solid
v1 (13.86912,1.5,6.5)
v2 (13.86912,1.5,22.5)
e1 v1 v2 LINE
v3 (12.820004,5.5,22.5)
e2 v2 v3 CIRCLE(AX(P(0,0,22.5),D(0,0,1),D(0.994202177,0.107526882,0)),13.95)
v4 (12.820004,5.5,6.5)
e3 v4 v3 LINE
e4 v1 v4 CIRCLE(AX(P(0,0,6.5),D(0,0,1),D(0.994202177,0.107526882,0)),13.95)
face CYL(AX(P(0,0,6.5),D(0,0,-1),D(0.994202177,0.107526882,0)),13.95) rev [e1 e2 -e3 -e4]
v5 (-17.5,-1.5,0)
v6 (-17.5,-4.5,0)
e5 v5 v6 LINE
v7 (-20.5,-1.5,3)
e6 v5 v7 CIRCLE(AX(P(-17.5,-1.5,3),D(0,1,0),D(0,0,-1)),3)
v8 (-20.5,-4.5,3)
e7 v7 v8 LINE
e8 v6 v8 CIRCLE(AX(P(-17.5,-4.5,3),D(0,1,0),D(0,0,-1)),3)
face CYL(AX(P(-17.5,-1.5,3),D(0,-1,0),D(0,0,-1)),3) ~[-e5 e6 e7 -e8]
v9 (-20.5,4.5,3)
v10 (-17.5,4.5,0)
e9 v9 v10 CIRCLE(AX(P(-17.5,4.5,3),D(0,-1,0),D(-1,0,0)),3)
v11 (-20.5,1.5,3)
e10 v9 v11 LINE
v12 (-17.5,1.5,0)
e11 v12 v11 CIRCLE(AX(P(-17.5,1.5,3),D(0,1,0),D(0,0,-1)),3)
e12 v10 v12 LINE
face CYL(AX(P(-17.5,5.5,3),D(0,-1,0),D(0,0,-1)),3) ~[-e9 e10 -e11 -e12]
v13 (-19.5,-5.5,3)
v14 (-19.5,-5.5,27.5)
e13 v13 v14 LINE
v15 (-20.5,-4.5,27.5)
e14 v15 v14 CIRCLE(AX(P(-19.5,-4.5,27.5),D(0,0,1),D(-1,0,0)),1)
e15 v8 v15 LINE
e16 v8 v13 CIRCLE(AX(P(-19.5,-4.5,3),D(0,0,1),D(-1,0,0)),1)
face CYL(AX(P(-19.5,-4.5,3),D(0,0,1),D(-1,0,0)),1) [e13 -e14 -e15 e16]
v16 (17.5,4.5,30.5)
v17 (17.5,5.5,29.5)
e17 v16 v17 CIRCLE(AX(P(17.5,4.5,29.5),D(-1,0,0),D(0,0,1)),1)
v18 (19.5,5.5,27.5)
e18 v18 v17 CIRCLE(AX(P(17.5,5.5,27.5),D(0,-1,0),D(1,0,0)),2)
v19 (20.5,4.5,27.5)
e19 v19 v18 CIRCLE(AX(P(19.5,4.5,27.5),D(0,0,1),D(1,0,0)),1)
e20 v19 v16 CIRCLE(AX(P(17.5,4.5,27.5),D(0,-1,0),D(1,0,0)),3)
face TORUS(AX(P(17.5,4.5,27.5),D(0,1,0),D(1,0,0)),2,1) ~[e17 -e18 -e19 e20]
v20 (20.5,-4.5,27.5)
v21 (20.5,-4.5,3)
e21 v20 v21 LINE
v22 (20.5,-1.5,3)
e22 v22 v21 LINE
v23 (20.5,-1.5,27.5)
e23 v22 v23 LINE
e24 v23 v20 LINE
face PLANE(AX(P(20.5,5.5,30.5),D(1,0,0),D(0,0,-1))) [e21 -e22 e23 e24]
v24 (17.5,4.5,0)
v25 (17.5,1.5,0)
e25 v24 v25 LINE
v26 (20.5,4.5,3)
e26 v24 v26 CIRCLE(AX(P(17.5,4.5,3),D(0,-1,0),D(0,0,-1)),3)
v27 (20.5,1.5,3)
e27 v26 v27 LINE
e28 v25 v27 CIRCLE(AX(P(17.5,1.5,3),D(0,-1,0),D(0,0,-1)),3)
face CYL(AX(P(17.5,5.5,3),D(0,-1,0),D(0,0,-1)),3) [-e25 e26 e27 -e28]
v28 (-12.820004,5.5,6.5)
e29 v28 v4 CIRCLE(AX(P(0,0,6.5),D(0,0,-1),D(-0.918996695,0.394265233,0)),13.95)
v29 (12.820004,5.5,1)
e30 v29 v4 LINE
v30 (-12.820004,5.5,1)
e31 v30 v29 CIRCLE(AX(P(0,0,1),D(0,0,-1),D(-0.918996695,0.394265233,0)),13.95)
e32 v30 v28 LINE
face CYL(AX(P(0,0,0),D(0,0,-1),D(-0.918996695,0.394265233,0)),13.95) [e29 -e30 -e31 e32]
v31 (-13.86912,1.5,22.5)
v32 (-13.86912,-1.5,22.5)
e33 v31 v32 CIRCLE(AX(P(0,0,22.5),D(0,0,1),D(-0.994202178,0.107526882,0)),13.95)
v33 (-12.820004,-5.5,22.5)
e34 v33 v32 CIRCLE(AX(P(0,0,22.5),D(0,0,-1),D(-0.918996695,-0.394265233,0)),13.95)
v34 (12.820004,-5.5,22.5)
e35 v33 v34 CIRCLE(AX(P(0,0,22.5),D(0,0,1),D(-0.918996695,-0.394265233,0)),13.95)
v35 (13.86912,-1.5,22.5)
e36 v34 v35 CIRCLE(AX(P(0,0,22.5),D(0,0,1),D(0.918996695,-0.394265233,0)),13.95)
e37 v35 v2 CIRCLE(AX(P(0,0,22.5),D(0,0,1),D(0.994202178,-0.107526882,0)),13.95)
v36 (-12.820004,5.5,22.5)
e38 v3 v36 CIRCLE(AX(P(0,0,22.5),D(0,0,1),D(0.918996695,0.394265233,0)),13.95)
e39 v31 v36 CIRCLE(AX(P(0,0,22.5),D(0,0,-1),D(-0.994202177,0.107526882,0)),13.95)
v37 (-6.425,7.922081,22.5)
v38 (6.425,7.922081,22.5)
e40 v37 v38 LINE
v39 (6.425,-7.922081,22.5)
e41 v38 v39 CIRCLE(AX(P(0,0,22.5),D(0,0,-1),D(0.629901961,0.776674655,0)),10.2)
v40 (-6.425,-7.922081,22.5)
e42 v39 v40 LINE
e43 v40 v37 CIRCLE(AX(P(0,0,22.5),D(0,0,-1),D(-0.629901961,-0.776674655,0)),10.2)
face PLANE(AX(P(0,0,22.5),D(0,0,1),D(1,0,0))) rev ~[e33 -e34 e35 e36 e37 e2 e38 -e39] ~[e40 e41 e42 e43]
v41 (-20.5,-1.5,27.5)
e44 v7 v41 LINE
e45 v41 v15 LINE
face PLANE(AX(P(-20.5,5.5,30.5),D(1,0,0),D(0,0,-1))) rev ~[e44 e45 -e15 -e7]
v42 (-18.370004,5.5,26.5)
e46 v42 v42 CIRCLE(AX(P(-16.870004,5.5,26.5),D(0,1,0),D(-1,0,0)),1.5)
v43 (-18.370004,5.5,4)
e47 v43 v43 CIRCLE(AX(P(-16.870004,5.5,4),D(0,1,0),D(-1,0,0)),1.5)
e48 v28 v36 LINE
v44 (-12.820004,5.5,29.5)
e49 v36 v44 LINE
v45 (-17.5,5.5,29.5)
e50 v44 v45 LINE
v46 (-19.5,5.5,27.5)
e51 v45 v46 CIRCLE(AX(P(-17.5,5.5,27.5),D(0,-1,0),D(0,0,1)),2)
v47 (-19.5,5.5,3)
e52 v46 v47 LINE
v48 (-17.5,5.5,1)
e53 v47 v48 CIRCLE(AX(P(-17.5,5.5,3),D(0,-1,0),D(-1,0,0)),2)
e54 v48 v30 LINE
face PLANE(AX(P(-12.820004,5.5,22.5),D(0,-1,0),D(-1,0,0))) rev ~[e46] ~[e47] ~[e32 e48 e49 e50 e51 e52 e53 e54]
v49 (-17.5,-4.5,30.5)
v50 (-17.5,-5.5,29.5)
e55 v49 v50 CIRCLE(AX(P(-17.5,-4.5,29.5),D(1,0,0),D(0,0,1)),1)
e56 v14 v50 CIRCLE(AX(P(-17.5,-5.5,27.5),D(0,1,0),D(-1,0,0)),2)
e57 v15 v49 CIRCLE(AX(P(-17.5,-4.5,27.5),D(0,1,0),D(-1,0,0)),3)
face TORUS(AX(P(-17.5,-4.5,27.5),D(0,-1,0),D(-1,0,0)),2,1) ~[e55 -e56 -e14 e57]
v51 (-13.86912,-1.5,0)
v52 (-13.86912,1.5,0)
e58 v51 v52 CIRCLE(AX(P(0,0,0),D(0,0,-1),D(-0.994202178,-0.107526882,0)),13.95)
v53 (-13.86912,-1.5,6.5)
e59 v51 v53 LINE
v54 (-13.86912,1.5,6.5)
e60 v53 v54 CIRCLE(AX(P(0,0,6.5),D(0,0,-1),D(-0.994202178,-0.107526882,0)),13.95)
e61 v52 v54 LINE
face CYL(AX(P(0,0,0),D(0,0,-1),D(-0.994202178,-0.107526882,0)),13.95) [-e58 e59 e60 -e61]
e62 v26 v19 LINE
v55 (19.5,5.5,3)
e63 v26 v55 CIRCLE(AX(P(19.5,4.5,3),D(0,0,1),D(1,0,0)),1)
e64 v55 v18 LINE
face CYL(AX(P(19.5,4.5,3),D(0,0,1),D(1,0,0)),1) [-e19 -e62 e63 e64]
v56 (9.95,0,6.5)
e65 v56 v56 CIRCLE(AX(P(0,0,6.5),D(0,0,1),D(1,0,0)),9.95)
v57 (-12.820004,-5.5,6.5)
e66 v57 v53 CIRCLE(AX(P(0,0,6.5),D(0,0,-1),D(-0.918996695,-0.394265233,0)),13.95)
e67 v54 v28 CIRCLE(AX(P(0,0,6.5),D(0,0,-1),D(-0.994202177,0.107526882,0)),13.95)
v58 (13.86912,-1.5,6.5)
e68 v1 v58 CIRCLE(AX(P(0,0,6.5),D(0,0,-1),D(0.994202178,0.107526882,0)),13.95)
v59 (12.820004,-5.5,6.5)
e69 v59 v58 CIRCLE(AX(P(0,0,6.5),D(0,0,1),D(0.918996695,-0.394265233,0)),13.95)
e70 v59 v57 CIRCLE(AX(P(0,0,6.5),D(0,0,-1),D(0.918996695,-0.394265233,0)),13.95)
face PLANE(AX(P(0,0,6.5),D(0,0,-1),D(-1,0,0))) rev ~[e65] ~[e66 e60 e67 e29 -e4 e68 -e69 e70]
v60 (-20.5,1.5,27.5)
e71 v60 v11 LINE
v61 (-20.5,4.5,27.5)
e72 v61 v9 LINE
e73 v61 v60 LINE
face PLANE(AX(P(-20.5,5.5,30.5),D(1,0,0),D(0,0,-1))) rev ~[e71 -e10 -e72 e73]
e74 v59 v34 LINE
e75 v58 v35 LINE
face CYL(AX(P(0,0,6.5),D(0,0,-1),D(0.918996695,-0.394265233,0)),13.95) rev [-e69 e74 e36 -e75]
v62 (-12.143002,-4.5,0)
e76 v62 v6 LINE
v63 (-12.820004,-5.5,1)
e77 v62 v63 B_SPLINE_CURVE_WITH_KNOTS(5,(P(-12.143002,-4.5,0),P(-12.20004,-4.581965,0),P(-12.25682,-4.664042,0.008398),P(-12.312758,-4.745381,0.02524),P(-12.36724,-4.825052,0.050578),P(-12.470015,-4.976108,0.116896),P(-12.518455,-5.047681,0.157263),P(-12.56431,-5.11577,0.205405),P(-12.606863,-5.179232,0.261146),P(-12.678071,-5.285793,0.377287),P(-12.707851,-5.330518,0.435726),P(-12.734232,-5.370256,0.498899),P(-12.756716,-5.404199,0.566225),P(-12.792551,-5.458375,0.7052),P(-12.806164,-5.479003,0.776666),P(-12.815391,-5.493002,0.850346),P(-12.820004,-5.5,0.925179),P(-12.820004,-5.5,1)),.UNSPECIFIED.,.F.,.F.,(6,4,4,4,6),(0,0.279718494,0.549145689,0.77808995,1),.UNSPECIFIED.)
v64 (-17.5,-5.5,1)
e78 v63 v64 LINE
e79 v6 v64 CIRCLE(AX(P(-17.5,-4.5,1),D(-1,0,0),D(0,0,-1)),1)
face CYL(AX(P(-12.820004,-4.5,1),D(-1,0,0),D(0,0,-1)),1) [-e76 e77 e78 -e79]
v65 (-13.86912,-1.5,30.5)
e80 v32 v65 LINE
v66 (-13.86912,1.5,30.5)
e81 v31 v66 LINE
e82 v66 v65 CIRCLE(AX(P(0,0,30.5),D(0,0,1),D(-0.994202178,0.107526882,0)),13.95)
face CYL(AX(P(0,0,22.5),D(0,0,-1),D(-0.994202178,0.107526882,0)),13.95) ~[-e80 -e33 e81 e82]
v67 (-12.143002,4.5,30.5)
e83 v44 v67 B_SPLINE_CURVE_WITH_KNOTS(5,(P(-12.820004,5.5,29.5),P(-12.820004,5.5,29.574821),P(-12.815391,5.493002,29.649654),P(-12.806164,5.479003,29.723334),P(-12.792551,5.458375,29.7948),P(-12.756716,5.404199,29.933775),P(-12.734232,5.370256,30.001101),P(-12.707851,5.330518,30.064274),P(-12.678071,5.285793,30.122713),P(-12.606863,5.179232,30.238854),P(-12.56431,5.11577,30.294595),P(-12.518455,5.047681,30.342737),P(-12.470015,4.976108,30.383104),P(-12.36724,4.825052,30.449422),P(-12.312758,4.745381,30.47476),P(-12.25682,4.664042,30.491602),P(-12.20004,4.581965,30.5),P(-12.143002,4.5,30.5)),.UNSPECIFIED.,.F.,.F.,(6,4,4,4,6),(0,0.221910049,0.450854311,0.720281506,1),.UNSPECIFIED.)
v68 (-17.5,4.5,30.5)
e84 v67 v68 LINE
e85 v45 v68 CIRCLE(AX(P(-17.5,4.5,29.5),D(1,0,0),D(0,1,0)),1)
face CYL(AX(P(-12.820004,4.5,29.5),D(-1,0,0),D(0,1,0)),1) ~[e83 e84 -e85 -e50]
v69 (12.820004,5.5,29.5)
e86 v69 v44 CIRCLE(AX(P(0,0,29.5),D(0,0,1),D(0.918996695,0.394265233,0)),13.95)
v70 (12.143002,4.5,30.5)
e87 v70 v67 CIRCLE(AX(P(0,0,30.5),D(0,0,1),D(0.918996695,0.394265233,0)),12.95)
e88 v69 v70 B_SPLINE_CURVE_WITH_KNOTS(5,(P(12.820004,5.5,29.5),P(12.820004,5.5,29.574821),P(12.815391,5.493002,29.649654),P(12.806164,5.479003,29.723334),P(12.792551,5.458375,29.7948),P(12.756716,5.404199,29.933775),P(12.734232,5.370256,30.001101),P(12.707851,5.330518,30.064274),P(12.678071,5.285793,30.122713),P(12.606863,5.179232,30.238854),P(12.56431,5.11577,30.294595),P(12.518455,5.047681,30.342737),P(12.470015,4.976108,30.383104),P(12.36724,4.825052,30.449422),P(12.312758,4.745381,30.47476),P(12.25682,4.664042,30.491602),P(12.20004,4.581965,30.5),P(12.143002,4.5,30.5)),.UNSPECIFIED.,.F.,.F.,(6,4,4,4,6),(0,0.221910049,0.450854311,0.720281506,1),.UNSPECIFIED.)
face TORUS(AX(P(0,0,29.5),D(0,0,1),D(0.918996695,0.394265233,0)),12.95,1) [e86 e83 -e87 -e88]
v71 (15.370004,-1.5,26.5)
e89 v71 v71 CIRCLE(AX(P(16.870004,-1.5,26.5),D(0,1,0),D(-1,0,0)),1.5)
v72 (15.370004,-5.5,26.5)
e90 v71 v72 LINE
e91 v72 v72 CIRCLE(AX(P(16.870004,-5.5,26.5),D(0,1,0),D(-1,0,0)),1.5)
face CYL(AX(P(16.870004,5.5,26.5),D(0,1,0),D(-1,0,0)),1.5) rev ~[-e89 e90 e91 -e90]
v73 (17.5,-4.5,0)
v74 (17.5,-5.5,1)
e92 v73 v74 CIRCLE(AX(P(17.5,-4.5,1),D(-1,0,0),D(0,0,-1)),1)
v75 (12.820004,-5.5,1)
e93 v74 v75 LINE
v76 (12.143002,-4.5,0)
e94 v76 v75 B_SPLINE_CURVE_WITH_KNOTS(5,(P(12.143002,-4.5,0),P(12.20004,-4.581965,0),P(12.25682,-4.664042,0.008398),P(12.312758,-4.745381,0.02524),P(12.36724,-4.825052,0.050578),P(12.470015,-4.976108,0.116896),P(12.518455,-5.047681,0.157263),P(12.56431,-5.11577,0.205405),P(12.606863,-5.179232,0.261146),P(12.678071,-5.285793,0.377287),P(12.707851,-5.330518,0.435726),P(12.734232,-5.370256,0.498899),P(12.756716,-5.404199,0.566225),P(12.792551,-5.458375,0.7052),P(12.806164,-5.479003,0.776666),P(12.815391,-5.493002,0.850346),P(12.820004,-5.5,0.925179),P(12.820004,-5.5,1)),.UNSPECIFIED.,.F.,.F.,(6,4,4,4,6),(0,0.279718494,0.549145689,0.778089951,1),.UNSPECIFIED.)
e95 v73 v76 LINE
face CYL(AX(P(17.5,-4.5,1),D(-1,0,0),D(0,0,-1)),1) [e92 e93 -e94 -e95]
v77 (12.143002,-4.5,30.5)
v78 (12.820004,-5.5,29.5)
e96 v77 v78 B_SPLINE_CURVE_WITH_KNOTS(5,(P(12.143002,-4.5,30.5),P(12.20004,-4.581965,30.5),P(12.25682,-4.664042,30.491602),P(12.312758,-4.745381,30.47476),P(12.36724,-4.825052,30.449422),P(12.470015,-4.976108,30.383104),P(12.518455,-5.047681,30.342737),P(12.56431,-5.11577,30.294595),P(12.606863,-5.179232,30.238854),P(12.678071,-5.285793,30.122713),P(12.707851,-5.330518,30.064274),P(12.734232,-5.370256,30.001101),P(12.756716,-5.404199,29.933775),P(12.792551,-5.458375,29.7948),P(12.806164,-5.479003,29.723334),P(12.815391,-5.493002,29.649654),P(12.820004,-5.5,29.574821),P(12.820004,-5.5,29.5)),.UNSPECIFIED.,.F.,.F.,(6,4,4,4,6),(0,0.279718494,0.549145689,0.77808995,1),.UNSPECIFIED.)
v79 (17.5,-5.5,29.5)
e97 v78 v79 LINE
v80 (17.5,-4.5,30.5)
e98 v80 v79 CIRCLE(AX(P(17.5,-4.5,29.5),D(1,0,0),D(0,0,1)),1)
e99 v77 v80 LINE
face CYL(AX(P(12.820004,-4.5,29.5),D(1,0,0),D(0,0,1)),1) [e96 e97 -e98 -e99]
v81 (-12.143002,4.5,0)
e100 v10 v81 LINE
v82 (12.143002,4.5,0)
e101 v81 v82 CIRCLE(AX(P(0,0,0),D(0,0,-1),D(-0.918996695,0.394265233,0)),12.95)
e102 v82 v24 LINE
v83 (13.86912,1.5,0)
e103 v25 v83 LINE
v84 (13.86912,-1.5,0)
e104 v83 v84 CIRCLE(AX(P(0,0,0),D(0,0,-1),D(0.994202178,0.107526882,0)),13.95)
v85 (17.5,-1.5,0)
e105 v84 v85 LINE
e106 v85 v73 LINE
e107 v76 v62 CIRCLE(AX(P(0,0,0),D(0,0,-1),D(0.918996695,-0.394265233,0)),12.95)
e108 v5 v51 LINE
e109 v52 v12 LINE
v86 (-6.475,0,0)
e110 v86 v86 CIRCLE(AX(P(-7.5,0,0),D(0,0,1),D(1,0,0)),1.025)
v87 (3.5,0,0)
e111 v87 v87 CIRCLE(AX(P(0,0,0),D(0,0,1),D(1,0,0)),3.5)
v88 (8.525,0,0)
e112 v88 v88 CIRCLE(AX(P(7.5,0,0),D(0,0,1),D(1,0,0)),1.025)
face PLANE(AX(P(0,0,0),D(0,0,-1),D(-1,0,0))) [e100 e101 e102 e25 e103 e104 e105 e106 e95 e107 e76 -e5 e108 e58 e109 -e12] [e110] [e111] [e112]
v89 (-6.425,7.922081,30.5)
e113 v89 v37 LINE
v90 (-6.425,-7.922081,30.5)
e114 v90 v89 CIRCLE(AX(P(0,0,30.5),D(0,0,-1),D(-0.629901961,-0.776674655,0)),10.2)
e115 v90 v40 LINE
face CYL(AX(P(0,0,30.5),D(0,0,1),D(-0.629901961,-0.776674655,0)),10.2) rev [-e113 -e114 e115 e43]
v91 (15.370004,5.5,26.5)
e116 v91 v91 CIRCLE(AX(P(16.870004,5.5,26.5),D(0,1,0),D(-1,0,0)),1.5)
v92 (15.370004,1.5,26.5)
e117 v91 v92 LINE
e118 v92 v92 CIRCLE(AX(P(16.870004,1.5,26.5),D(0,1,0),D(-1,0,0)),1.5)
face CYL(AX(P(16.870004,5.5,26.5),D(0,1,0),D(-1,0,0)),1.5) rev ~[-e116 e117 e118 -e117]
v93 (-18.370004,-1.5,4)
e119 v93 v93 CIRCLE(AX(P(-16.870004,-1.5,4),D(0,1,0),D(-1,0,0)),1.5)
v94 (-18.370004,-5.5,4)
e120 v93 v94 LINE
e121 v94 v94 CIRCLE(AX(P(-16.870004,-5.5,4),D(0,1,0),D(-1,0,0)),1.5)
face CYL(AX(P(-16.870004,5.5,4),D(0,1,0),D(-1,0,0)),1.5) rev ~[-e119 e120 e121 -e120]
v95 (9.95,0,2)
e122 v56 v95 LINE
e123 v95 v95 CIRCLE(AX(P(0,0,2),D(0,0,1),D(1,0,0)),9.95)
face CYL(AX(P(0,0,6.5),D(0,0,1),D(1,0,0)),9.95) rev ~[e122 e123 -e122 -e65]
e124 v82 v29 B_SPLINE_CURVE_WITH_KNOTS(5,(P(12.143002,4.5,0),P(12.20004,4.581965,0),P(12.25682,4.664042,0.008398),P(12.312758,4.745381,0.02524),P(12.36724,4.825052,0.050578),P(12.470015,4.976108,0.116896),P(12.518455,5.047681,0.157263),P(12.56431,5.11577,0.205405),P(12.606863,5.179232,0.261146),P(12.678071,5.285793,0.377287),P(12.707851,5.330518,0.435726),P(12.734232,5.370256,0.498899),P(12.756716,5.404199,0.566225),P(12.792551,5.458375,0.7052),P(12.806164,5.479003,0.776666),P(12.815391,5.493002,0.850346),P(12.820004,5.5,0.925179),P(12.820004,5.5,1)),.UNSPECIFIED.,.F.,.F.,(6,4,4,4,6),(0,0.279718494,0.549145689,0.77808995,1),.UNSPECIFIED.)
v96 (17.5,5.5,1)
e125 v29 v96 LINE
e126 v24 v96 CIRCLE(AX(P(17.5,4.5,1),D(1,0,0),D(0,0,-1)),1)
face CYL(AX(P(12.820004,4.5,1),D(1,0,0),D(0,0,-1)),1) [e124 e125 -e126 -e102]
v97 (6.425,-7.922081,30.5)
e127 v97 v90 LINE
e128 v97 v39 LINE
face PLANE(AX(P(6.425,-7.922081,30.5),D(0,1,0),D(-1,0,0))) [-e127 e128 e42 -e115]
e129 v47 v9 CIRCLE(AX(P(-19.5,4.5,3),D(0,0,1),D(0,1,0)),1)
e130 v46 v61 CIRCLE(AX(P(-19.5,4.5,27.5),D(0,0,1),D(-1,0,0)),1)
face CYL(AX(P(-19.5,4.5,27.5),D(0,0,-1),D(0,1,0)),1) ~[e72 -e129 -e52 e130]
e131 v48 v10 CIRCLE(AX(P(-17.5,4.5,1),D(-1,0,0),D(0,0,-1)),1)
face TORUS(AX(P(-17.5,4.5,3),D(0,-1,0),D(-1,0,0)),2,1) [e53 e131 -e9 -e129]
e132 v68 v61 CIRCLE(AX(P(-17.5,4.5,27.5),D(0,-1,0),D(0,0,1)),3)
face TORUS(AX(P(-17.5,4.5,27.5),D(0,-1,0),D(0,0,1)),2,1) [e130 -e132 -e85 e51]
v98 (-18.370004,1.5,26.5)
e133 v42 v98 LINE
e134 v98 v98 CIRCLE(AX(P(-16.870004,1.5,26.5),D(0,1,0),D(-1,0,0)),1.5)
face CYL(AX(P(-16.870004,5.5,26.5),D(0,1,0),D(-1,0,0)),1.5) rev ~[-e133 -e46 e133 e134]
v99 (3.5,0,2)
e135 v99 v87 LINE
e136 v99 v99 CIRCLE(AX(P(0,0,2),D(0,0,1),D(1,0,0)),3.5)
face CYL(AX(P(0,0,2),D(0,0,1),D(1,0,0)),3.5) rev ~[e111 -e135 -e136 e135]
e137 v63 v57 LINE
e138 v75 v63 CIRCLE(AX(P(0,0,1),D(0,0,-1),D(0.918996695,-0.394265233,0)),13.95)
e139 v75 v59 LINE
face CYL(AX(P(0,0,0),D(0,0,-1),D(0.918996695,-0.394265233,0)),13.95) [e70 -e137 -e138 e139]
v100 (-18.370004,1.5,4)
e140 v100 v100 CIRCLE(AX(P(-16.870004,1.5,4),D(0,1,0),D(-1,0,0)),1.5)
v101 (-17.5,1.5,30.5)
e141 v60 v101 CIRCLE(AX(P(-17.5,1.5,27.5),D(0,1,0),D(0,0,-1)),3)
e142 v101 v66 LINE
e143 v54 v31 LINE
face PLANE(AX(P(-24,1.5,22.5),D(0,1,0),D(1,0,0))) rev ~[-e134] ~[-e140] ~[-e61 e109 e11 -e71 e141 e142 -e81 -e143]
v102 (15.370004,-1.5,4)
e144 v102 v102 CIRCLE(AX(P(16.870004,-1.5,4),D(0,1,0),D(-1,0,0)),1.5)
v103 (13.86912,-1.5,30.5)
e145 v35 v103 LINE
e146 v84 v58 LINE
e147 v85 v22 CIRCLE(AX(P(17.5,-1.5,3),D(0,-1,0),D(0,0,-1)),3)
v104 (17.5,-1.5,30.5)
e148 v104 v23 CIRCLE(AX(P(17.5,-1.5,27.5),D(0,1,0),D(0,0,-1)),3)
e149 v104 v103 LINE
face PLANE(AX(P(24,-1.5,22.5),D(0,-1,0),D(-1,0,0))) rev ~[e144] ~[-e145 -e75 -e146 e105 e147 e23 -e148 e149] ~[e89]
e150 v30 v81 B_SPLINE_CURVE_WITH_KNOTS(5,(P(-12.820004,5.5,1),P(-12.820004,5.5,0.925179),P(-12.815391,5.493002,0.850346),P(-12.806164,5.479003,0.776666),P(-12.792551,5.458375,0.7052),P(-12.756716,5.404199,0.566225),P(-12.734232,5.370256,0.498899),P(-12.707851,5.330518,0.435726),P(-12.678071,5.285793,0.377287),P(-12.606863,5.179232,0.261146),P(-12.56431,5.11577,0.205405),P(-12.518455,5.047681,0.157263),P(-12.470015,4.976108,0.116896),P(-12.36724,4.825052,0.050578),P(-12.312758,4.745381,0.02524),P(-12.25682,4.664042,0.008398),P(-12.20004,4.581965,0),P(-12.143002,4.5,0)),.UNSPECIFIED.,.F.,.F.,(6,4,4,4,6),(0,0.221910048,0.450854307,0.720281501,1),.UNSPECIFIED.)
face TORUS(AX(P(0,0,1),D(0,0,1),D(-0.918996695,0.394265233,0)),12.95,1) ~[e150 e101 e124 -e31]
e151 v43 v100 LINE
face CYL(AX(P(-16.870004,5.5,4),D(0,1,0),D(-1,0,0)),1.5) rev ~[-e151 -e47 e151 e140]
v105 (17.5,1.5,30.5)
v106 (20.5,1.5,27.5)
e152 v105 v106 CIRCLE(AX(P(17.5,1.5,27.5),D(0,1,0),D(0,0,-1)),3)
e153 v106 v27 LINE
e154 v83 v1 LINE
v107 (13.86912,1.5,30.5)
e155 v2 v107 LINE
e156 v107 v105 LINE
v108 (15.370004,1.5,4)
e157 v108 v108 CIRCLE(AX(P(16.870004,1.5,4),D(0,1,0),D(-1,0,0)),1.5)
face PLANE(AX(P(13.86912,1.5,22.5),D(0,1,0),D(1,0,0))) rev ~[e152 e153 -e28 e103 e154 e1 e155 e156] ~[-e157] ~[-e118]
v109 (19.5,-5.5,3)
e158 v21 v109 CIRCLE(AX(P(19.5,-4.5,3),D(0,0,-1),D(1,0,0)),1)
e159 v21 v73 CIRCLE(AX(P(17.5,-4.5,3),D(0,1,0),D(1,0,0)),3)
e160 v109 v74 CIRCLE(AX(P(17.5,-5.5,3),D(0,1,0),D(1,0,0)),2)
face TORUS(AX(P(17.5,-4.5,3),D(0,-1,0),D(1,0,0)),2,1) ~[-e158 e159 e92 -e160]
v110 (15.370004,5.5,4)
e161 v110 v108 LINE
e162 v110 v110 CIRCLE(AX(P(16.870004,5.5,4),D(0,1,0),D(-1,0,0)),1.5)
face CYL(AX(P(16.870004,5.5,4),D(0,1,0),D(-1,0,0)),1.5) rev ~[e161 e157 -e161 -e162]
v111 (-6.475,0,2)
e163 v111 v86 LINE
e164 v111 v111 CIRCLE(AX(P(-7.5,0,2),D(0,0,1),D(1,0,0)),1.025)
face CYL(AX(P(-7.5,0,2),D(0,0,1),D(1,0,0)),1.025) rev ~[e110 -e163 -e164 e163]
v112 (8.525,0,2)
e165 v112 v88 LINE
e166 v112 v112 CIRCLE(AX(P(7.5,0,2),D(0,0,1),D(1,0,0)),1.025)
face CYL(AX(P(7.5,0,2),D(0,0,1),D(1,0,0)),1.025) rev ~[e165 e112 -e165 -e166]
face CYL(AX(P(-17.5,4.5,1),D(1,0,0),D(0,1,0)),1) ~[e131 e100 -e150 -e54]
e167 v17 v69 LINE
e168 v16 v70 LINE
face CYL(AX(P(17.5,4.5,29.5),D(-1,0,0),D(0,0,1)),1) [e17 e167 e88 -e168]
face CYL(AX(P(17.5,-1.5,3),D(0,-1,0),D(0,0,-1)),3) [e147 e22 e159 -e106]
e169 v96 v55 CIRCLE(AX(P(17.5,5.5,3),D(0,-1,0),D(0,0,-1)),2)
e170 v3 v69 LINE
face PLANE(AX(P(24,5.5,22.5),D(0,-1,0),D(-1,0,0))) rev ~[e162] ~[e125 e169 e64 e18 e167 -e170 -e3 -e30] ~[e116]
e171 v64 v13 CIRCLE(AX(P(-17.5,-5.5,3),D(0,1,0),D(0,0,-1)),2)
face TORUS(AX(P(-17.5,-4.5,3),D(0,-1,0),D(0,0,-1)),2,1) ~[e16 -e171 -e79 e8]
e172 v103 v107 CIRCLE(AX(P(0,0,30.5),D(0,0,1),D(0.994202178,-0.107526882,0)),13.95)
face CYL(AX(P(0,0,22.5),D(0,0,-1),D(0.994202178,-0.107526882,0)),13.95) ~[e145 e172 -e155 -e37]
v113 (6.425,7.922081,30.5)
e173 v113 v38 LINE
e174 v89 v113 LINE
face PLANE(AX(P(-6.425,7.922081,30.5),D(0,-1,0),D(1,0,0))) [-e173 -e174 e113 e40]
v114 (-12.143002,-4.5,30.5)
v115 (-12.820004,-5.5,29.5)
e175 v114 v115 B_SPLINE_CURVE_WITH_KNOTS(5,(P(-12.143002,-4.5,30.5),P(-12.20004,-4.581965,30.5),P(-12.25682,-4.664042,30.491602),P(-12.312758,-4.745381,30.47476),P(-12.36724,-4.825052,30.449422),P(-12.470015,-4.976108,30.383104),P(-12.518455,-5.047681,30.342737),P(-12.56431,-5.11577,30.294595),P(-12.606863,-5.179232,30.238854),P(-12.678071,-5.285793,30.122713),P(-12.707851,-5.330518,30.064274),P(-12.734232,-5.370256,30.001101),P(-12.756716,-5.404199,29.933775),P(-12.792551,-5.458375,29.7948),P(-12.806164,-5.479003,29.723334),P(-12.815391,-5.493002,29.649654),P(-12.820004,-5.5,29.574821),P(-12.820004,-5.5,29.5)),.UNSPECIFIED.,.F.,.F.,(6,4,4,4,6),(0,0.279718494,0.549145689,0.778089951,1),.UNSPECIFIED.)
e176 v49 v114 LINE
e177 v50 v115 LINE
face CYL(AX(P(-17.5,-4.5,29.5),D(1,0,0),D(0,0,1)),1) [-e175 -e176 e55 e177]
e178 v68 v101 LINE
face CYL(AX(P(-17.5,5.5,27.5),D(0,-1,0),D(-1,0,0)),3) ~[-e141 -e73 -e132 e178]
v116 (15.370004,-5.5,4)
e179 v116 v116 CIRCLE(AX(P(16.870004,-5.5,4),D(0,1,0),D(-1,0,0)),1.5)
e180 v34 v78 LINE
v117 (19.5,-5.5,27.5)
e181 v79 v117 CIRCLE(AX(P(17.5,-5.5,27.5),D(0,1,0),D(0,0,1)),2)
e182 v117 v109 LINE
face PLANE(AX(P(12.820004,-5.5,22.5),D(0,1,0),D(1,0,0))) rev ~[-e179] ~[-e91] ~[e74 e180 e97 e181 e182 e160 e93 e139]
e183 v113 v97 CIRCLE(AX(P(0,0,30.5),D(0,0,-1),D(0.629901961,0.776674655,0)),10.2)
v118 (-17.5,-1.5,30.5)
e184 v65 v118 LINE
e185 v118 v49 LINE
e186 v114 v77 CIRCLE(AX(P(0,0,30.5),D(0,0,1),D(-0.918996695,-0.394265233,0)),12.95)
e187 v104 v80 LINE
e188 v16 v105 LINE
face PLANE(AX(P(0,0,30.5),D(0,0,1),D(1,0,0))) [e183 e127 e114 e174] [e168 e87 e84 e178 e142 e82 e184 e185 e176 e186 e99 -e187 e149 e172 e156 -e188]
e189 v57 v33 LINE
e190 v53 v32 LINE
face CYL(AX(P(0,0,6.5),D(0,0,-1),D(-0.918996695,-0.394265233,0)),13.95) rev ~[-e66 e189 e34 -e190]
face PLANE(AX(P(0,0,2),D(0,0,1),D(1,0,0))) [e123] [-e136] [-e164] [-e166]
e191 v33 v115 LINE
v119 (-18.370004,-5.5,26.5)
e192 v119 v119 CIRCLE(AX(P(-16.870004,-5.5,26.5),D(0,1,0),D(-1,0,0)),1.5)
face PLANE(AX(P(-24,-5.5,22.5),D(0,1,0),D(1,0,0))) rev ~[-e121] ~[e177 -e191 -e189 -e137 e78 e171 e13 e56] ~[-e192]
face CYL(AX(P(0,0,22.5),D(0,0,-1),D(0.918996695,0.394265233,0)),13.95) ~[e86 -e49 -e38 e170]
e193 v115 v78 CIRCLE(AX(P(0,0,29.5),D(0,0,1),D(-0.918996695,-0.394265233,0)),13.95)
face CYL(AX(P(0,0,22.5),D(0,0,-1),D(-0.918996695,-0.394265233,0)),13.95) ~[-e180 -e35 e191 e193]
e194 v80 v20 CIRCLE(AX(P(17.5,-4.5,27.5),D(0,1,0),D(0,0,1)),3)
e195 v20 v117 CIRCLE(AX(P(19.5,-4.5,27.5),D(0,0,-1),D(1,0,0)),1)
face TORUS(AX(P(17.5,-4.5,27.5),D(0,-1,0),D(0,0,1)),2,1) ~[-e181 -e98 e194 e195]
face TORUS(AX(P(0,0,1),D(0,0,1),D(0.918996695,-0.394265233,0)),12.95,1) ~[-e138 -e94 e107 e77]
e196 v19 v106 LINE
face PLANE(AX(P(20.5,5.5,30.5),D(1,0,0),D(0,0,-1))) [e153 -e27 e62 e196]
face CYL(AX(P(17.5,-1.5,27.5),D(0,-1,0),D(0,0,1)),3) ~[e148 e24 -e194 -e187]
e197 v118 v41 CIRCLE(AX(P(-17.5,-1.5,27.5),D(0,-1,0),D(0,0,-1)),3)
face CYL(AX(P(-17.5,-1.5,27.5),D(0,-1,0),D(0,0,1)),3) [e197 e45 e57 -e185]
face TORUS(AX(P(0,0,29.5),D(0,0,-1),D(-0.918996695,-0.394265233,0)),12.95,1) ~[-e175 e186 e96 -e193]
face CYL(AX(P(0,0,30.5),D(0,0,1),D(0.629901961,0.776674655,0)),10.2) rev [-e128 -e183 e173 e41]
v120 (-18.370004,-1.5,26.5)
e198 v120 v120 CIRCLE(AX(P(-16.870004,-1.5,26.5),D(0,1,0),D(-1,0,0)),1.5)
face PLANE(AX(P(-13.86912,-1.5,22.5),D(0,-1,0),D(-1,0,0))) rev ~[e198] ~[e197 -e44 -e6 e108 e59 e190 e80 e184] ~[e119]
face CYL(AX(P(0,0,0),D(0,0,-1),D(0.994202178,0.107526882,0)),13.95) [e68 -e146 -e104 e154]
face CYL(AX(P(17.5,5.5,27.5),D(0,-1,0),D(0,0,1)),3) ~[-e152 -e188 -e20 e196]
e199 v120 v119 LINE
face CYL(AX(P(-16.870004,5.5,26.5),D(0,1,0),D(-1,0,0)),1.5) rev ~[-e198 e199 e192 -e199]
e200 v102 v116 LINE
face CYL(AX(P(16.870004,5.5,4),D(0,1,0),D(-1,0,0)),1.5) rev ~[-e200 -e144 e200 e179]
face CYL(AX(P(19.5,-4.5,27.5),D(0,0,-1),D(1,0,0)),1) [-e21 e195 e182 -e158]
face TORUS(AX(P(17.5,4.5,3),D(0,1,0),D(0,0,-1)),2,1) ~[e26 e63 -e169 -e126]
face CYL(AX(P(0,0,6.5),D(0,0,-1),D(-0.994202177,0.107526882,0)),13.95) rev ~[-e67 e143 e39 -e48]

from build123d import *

# Parameters (mm, degrees)
SALIENTE_EXTRUIR1_DEPTH = 6.5
CROQUIS2_R              = 9.95
CORTAR_EXTRUIR1_DEPTH   = 4.5
CROQUIS3_R              = 3.5
CROQUIS3_R_2            = 1.025
CORTAR_EXTRUIR2_DEPTH   = 3.5
SALIENTE_EXTRUIR2_DEPTH = 16
SALIENTE_EXTRUIR3_DEPTH = 8
CORTAR_EXTRUIR3_DEPTH   = 8
CROQUIS8_R              = 1.5
CORTAR_EXTRUIR4_DEPTH   = 44.411432826
CROQUIS9_W              = 3.5
CROQUIS9_H              = 30.5
CORTAR_EXTRUIR6_DEPTH   = 44.411432826
REDONDEO4_R             = 3
REDONDEO5_R             = 1


with BuildPart() as part:
    # Croquis1 → Saliente-Extruir1 (new body)
    with BuildSketch(Plane.XY):
        with BuildLine():
            Line((-13.869120376, 1.5), (-24, 1.5))
            Line((-24, 1.5), (-24, 5.5))
            Line((-24, 5.5), (-12.8200039, 5.5))
            ThreePointArc((-12.8200039, 5.5), (0, 13.95), (12.8200039, 5.5))
            Line((12.8200039, 5.5), (24, 5.5))
            Line((24, 5.5), (24, 1.5))
            Line((24, 1.5), (13.869120376, 1.5))
            ThreePointArc((13.869120376, 1.5), (13.95, 0), (13.869120376, -1.5))
            Line((13.869120376, -1.5), (24, -1.5))
            Line((24, -1.5), (24, -5.5))
            Line((24, -5.5), (12.8200039, -5.5))
            ThreePointArc((12.8200039, -5.5), (0, -13.95), (-12.8200039, -5.5))
            Line((-12.8200039, -5.5), (-24, -5.5))
            Line((-24, -5.5), (-24, -1.5))
            Line((-24, -1.5), (-13.869120376, -1.5))
            ThreePointArc((-13.869120376, -1.5), (-13.95, 0), (-13.869120376, 1.5))
        make_face()
    extrude(amount=SALIENTE_EXTRUIR1_DEPTH)

    # Croquis2 → Cortar-Extruir1 (cut)
    with BuildSketch(Plane.XY.offset(6.5)):
        Circle(CROQUIS2_R)
    extrude(amount=-CORTAR_EXTRUIR1_DEPTH, mode=Mode.SUBTRACT)

    # Croquis3 → Cortar-Extruir2 (cut)
    with BuildSketch(Plane.XY.offset(2)):
        Circle(CROQUIS3_R)
        with Locations((-7.5, 0)):
            Circle(CROQUIS3_R_2)
        with Locations((7.5, 0)):
            Circle(CROQUIS3_R_2)
    extrude(amount=-CORTAR_EXTRUIR2_DEPTH, mode=Mode.SUBTRACT)

    # Croquis4 → Saliente-Extruir2 (add)
    with BuildSketch(Plane.XY.offset(6.5)):
        with BuildLine():
            Line((-12.8200039, 5.5), (-24, 5.5))
            Line((-24, 5.5), (-24, 1.5))
            Line((-24, 1.5), (-13.869120376, 1.5))
            ThreePointArc((-13.869120376, 1.5), (-13.49360362, 3.539090469), (-12.8200039, 5.5))
        make_face()
        with BuildLine():
            Line((-13.869120376, -1.5), (-24, -1.5))
            Line((-24, -1.5), (-24, -5.5))
            Line((-24, -5.5), (-12.8200039, -5.5))
            ThreePointArc((-12.8200039, -5.5), (-13.49360362, -3.539090469), (-13.869120376, -1.5))
        make_face()
        with BuildLine():
            Line((24, -5.5), (12.8200039, -5.5))
            ThreePointArc((12.8200039, -5.5), (13.49360362, -3.539090469), (13.869120376, -1.5))
            Line((13.869120376, -1.5), (24, -1.5))
            Line((24, -1.5), (24, -5.5))
        make_face()
        with BuildLine():
            Line((24, 1.5), (13.869120376, 1.5))
            ThreePointArc((13.869120376, 1.5), (13.49360362, 3.539090469), (12.8200039, 5.5))
            Line((12.8200039, 5.5), (24, 5.5))
            Line((24, 5.5), (24, 1.5))
        make_face()
    extrude(amount=SALIENTE_EXTRUIR2_DEPTH)

    # Croquis6 → Saliente-Extruir3 (add)
    with BuildSketch(Plane.XY.offset(22.5)):
        with BuildLine():
            Line((-12.8200039, 5.5), (-24, 5.5))
            Line((-24, 5.5), (-24, 1.5))
            Line((-24, 1.5), (-13.869120376, 1.5))
            ThreePointArc((-13.869120376, 1.5), (-13.95, 0), (-13.869120376, -1.5))
            Line((-13.869120376, -1.5), (-24, -1.5))
            Line((-24, -1.5), (-24, -5.5))
            Line((-24, -5.5), (-12.8200039, -5.5))
            ThreePointArc((-12.8200039, -5.5), (0, -13.95), (12.8200039, -5.5))
            Line((12.8200039, -5.5), (24, -5.5))
            Line((24, -5.5), (24, -1.5))
            Line((24, -1.5), (13.869120376, -1.5))
            ThreePointArc((13.869120376, -1.5), (13.95, 0), (13.869120376, 1.5))
            Line((13.869120376, 1.5), (24, 1.5))
            Line((24, 1.5), (24, 5.5))
            Line((24, 5.5), (12.8200039, 5.5))
            ThreePointArc((12.8200039, 5.5), (0, 13.95), (-12.8200039, 5.5))
        make_face()
    extrude(amount=SALIENTE_EXTRUIR3_DEPTH)

    # Croquis7 → Cortar-Extruir3 (cut)
    with BuildSketch(Plane.XY.offset(30.5)):
        with BuildLine():
            Line((-6.425, 7.922081482), (6.425, 7.922081482))
            ThreePointArc((6.425, 7.922081482), (10.2, 0), (6.425, -7.922081482))
            Line((6.425, -7.922081482), (-6.425, -7.922081482))
            ThreePointArc((-6.425, -7.922081482), (-10.2, 0), (-6.425, 7.922081482))
        make_face()
    extrude(amount=-CORTAR_EXTRUIR3_DEPTH, mode=Mode.SUBTRACT)

    # Croquis8 → Cortar-Extruir4 (cut, through all)
    with BuildSketch(Plane(origin=(0, 5.5, 0), x_dir=(1, 0, 0), z_dir=(0, 1, 0))):
        with Locations(Location((16.8700039, -26.5, 0), (0, 0, 180))):
            Circle(CROQUIS8_R)
        with Locations(Location((16.8700039, -4, 0), (0, 0, 180))):
            Circle(CROQUIS8_R)
        with Locations(Location((-16.8700039, -4, 0), (0, 0, 180))):
            Circle(CROQUIS8_R)
        with Locations(Location((-16.8700039, -26.5, 0), (0, 0, 180))):
            Circle(CROQUIS8_R)
    extrude(amount=-CORTAR_EXTRUIR4_DEPTH, mode=Mode.SUBTRACT)

    # Croquis9 → Cortar-Extruir6 (cut, through all)
    with BuildSketch(Plane(origin=(0, 5.5, 0), x_dir=(1, 0, 0), z_dir=(0, 1, 0))):
        with Locations((22.25, -15.25)):
            Rectangle(CROQUIS9_W, CROQUIS9_H)
        with Locations((-22.25, -15.25)):
            Rectangle(CROQUIS9_W, CROQUIS9_H)
    extrude(amount=-CORTAR_EXTRUIR6_DEPTH, mode=Mode.SUBTRACT)

    # Redondeo4
    redondeo4_edges = [part.edges().sort_by_distance(p)[0] for p in [
        (20.5, -3.5, 30.5),
        (20.5, 3.5, 30.5),
        (20.5, -3.5, 0),
        (20.5, 3.5, 0),
        (-20.5, 3.5, 30.5),
        (-20.5, -3.5, 30.5),
        (-20.5, 3.5, 0),
        (-20.5, -3.5, 0),
    ]]
    fillet(redondeo4_edges, radius=REDONDEO4_R)

    # Redondeo5
    redondeo5_edges = [part.edges().sort_by_distance(p)[0] for p in [
        (0, 13.95, 30.5),
        (-15.16000195, 5.5, 30.5),
        (0, -13.95, 30.5),
        (15.16000195, -5.5, 30.5),
        (15.16000195, -5.5, 0),
        (0, -13.95, 0),
        (-15.16000195, 5.5, 0),
        (0, 13.95, 0),
        (20.5, -5.5, 15.25),
        (-15.16000195, -5.5, 0),
        (15.16000195, 5.5, 0),
        (19.621320344, -5.5, 29.621320344),
        (19.621320344, -5.5, 0.878679656),
        (20.5, 5.5, 15.25),
        (15.16000195, 5.5, 30.5),
        (19.621320344, 5.5, 29.621320344),
        (19.621320344, 5.5, 0.878679656),
        (-15.16000195, -5.5, 30.5),
        (-20.5, -5.5, 15.25),
        (-19.621320344, -5.5, 29.621320344),
        (-19.621320344, -5.5, 0.878679656),
        (-20.5, 5.5, 15.25),
        (-19.621320344, 5.5, 29.621320344),
        (-19.621320344, 5.5, 0.878679656),
    ]]
    fillet(redondeo5_edges, radius=REDONDEO5_R)


solid = part.part
